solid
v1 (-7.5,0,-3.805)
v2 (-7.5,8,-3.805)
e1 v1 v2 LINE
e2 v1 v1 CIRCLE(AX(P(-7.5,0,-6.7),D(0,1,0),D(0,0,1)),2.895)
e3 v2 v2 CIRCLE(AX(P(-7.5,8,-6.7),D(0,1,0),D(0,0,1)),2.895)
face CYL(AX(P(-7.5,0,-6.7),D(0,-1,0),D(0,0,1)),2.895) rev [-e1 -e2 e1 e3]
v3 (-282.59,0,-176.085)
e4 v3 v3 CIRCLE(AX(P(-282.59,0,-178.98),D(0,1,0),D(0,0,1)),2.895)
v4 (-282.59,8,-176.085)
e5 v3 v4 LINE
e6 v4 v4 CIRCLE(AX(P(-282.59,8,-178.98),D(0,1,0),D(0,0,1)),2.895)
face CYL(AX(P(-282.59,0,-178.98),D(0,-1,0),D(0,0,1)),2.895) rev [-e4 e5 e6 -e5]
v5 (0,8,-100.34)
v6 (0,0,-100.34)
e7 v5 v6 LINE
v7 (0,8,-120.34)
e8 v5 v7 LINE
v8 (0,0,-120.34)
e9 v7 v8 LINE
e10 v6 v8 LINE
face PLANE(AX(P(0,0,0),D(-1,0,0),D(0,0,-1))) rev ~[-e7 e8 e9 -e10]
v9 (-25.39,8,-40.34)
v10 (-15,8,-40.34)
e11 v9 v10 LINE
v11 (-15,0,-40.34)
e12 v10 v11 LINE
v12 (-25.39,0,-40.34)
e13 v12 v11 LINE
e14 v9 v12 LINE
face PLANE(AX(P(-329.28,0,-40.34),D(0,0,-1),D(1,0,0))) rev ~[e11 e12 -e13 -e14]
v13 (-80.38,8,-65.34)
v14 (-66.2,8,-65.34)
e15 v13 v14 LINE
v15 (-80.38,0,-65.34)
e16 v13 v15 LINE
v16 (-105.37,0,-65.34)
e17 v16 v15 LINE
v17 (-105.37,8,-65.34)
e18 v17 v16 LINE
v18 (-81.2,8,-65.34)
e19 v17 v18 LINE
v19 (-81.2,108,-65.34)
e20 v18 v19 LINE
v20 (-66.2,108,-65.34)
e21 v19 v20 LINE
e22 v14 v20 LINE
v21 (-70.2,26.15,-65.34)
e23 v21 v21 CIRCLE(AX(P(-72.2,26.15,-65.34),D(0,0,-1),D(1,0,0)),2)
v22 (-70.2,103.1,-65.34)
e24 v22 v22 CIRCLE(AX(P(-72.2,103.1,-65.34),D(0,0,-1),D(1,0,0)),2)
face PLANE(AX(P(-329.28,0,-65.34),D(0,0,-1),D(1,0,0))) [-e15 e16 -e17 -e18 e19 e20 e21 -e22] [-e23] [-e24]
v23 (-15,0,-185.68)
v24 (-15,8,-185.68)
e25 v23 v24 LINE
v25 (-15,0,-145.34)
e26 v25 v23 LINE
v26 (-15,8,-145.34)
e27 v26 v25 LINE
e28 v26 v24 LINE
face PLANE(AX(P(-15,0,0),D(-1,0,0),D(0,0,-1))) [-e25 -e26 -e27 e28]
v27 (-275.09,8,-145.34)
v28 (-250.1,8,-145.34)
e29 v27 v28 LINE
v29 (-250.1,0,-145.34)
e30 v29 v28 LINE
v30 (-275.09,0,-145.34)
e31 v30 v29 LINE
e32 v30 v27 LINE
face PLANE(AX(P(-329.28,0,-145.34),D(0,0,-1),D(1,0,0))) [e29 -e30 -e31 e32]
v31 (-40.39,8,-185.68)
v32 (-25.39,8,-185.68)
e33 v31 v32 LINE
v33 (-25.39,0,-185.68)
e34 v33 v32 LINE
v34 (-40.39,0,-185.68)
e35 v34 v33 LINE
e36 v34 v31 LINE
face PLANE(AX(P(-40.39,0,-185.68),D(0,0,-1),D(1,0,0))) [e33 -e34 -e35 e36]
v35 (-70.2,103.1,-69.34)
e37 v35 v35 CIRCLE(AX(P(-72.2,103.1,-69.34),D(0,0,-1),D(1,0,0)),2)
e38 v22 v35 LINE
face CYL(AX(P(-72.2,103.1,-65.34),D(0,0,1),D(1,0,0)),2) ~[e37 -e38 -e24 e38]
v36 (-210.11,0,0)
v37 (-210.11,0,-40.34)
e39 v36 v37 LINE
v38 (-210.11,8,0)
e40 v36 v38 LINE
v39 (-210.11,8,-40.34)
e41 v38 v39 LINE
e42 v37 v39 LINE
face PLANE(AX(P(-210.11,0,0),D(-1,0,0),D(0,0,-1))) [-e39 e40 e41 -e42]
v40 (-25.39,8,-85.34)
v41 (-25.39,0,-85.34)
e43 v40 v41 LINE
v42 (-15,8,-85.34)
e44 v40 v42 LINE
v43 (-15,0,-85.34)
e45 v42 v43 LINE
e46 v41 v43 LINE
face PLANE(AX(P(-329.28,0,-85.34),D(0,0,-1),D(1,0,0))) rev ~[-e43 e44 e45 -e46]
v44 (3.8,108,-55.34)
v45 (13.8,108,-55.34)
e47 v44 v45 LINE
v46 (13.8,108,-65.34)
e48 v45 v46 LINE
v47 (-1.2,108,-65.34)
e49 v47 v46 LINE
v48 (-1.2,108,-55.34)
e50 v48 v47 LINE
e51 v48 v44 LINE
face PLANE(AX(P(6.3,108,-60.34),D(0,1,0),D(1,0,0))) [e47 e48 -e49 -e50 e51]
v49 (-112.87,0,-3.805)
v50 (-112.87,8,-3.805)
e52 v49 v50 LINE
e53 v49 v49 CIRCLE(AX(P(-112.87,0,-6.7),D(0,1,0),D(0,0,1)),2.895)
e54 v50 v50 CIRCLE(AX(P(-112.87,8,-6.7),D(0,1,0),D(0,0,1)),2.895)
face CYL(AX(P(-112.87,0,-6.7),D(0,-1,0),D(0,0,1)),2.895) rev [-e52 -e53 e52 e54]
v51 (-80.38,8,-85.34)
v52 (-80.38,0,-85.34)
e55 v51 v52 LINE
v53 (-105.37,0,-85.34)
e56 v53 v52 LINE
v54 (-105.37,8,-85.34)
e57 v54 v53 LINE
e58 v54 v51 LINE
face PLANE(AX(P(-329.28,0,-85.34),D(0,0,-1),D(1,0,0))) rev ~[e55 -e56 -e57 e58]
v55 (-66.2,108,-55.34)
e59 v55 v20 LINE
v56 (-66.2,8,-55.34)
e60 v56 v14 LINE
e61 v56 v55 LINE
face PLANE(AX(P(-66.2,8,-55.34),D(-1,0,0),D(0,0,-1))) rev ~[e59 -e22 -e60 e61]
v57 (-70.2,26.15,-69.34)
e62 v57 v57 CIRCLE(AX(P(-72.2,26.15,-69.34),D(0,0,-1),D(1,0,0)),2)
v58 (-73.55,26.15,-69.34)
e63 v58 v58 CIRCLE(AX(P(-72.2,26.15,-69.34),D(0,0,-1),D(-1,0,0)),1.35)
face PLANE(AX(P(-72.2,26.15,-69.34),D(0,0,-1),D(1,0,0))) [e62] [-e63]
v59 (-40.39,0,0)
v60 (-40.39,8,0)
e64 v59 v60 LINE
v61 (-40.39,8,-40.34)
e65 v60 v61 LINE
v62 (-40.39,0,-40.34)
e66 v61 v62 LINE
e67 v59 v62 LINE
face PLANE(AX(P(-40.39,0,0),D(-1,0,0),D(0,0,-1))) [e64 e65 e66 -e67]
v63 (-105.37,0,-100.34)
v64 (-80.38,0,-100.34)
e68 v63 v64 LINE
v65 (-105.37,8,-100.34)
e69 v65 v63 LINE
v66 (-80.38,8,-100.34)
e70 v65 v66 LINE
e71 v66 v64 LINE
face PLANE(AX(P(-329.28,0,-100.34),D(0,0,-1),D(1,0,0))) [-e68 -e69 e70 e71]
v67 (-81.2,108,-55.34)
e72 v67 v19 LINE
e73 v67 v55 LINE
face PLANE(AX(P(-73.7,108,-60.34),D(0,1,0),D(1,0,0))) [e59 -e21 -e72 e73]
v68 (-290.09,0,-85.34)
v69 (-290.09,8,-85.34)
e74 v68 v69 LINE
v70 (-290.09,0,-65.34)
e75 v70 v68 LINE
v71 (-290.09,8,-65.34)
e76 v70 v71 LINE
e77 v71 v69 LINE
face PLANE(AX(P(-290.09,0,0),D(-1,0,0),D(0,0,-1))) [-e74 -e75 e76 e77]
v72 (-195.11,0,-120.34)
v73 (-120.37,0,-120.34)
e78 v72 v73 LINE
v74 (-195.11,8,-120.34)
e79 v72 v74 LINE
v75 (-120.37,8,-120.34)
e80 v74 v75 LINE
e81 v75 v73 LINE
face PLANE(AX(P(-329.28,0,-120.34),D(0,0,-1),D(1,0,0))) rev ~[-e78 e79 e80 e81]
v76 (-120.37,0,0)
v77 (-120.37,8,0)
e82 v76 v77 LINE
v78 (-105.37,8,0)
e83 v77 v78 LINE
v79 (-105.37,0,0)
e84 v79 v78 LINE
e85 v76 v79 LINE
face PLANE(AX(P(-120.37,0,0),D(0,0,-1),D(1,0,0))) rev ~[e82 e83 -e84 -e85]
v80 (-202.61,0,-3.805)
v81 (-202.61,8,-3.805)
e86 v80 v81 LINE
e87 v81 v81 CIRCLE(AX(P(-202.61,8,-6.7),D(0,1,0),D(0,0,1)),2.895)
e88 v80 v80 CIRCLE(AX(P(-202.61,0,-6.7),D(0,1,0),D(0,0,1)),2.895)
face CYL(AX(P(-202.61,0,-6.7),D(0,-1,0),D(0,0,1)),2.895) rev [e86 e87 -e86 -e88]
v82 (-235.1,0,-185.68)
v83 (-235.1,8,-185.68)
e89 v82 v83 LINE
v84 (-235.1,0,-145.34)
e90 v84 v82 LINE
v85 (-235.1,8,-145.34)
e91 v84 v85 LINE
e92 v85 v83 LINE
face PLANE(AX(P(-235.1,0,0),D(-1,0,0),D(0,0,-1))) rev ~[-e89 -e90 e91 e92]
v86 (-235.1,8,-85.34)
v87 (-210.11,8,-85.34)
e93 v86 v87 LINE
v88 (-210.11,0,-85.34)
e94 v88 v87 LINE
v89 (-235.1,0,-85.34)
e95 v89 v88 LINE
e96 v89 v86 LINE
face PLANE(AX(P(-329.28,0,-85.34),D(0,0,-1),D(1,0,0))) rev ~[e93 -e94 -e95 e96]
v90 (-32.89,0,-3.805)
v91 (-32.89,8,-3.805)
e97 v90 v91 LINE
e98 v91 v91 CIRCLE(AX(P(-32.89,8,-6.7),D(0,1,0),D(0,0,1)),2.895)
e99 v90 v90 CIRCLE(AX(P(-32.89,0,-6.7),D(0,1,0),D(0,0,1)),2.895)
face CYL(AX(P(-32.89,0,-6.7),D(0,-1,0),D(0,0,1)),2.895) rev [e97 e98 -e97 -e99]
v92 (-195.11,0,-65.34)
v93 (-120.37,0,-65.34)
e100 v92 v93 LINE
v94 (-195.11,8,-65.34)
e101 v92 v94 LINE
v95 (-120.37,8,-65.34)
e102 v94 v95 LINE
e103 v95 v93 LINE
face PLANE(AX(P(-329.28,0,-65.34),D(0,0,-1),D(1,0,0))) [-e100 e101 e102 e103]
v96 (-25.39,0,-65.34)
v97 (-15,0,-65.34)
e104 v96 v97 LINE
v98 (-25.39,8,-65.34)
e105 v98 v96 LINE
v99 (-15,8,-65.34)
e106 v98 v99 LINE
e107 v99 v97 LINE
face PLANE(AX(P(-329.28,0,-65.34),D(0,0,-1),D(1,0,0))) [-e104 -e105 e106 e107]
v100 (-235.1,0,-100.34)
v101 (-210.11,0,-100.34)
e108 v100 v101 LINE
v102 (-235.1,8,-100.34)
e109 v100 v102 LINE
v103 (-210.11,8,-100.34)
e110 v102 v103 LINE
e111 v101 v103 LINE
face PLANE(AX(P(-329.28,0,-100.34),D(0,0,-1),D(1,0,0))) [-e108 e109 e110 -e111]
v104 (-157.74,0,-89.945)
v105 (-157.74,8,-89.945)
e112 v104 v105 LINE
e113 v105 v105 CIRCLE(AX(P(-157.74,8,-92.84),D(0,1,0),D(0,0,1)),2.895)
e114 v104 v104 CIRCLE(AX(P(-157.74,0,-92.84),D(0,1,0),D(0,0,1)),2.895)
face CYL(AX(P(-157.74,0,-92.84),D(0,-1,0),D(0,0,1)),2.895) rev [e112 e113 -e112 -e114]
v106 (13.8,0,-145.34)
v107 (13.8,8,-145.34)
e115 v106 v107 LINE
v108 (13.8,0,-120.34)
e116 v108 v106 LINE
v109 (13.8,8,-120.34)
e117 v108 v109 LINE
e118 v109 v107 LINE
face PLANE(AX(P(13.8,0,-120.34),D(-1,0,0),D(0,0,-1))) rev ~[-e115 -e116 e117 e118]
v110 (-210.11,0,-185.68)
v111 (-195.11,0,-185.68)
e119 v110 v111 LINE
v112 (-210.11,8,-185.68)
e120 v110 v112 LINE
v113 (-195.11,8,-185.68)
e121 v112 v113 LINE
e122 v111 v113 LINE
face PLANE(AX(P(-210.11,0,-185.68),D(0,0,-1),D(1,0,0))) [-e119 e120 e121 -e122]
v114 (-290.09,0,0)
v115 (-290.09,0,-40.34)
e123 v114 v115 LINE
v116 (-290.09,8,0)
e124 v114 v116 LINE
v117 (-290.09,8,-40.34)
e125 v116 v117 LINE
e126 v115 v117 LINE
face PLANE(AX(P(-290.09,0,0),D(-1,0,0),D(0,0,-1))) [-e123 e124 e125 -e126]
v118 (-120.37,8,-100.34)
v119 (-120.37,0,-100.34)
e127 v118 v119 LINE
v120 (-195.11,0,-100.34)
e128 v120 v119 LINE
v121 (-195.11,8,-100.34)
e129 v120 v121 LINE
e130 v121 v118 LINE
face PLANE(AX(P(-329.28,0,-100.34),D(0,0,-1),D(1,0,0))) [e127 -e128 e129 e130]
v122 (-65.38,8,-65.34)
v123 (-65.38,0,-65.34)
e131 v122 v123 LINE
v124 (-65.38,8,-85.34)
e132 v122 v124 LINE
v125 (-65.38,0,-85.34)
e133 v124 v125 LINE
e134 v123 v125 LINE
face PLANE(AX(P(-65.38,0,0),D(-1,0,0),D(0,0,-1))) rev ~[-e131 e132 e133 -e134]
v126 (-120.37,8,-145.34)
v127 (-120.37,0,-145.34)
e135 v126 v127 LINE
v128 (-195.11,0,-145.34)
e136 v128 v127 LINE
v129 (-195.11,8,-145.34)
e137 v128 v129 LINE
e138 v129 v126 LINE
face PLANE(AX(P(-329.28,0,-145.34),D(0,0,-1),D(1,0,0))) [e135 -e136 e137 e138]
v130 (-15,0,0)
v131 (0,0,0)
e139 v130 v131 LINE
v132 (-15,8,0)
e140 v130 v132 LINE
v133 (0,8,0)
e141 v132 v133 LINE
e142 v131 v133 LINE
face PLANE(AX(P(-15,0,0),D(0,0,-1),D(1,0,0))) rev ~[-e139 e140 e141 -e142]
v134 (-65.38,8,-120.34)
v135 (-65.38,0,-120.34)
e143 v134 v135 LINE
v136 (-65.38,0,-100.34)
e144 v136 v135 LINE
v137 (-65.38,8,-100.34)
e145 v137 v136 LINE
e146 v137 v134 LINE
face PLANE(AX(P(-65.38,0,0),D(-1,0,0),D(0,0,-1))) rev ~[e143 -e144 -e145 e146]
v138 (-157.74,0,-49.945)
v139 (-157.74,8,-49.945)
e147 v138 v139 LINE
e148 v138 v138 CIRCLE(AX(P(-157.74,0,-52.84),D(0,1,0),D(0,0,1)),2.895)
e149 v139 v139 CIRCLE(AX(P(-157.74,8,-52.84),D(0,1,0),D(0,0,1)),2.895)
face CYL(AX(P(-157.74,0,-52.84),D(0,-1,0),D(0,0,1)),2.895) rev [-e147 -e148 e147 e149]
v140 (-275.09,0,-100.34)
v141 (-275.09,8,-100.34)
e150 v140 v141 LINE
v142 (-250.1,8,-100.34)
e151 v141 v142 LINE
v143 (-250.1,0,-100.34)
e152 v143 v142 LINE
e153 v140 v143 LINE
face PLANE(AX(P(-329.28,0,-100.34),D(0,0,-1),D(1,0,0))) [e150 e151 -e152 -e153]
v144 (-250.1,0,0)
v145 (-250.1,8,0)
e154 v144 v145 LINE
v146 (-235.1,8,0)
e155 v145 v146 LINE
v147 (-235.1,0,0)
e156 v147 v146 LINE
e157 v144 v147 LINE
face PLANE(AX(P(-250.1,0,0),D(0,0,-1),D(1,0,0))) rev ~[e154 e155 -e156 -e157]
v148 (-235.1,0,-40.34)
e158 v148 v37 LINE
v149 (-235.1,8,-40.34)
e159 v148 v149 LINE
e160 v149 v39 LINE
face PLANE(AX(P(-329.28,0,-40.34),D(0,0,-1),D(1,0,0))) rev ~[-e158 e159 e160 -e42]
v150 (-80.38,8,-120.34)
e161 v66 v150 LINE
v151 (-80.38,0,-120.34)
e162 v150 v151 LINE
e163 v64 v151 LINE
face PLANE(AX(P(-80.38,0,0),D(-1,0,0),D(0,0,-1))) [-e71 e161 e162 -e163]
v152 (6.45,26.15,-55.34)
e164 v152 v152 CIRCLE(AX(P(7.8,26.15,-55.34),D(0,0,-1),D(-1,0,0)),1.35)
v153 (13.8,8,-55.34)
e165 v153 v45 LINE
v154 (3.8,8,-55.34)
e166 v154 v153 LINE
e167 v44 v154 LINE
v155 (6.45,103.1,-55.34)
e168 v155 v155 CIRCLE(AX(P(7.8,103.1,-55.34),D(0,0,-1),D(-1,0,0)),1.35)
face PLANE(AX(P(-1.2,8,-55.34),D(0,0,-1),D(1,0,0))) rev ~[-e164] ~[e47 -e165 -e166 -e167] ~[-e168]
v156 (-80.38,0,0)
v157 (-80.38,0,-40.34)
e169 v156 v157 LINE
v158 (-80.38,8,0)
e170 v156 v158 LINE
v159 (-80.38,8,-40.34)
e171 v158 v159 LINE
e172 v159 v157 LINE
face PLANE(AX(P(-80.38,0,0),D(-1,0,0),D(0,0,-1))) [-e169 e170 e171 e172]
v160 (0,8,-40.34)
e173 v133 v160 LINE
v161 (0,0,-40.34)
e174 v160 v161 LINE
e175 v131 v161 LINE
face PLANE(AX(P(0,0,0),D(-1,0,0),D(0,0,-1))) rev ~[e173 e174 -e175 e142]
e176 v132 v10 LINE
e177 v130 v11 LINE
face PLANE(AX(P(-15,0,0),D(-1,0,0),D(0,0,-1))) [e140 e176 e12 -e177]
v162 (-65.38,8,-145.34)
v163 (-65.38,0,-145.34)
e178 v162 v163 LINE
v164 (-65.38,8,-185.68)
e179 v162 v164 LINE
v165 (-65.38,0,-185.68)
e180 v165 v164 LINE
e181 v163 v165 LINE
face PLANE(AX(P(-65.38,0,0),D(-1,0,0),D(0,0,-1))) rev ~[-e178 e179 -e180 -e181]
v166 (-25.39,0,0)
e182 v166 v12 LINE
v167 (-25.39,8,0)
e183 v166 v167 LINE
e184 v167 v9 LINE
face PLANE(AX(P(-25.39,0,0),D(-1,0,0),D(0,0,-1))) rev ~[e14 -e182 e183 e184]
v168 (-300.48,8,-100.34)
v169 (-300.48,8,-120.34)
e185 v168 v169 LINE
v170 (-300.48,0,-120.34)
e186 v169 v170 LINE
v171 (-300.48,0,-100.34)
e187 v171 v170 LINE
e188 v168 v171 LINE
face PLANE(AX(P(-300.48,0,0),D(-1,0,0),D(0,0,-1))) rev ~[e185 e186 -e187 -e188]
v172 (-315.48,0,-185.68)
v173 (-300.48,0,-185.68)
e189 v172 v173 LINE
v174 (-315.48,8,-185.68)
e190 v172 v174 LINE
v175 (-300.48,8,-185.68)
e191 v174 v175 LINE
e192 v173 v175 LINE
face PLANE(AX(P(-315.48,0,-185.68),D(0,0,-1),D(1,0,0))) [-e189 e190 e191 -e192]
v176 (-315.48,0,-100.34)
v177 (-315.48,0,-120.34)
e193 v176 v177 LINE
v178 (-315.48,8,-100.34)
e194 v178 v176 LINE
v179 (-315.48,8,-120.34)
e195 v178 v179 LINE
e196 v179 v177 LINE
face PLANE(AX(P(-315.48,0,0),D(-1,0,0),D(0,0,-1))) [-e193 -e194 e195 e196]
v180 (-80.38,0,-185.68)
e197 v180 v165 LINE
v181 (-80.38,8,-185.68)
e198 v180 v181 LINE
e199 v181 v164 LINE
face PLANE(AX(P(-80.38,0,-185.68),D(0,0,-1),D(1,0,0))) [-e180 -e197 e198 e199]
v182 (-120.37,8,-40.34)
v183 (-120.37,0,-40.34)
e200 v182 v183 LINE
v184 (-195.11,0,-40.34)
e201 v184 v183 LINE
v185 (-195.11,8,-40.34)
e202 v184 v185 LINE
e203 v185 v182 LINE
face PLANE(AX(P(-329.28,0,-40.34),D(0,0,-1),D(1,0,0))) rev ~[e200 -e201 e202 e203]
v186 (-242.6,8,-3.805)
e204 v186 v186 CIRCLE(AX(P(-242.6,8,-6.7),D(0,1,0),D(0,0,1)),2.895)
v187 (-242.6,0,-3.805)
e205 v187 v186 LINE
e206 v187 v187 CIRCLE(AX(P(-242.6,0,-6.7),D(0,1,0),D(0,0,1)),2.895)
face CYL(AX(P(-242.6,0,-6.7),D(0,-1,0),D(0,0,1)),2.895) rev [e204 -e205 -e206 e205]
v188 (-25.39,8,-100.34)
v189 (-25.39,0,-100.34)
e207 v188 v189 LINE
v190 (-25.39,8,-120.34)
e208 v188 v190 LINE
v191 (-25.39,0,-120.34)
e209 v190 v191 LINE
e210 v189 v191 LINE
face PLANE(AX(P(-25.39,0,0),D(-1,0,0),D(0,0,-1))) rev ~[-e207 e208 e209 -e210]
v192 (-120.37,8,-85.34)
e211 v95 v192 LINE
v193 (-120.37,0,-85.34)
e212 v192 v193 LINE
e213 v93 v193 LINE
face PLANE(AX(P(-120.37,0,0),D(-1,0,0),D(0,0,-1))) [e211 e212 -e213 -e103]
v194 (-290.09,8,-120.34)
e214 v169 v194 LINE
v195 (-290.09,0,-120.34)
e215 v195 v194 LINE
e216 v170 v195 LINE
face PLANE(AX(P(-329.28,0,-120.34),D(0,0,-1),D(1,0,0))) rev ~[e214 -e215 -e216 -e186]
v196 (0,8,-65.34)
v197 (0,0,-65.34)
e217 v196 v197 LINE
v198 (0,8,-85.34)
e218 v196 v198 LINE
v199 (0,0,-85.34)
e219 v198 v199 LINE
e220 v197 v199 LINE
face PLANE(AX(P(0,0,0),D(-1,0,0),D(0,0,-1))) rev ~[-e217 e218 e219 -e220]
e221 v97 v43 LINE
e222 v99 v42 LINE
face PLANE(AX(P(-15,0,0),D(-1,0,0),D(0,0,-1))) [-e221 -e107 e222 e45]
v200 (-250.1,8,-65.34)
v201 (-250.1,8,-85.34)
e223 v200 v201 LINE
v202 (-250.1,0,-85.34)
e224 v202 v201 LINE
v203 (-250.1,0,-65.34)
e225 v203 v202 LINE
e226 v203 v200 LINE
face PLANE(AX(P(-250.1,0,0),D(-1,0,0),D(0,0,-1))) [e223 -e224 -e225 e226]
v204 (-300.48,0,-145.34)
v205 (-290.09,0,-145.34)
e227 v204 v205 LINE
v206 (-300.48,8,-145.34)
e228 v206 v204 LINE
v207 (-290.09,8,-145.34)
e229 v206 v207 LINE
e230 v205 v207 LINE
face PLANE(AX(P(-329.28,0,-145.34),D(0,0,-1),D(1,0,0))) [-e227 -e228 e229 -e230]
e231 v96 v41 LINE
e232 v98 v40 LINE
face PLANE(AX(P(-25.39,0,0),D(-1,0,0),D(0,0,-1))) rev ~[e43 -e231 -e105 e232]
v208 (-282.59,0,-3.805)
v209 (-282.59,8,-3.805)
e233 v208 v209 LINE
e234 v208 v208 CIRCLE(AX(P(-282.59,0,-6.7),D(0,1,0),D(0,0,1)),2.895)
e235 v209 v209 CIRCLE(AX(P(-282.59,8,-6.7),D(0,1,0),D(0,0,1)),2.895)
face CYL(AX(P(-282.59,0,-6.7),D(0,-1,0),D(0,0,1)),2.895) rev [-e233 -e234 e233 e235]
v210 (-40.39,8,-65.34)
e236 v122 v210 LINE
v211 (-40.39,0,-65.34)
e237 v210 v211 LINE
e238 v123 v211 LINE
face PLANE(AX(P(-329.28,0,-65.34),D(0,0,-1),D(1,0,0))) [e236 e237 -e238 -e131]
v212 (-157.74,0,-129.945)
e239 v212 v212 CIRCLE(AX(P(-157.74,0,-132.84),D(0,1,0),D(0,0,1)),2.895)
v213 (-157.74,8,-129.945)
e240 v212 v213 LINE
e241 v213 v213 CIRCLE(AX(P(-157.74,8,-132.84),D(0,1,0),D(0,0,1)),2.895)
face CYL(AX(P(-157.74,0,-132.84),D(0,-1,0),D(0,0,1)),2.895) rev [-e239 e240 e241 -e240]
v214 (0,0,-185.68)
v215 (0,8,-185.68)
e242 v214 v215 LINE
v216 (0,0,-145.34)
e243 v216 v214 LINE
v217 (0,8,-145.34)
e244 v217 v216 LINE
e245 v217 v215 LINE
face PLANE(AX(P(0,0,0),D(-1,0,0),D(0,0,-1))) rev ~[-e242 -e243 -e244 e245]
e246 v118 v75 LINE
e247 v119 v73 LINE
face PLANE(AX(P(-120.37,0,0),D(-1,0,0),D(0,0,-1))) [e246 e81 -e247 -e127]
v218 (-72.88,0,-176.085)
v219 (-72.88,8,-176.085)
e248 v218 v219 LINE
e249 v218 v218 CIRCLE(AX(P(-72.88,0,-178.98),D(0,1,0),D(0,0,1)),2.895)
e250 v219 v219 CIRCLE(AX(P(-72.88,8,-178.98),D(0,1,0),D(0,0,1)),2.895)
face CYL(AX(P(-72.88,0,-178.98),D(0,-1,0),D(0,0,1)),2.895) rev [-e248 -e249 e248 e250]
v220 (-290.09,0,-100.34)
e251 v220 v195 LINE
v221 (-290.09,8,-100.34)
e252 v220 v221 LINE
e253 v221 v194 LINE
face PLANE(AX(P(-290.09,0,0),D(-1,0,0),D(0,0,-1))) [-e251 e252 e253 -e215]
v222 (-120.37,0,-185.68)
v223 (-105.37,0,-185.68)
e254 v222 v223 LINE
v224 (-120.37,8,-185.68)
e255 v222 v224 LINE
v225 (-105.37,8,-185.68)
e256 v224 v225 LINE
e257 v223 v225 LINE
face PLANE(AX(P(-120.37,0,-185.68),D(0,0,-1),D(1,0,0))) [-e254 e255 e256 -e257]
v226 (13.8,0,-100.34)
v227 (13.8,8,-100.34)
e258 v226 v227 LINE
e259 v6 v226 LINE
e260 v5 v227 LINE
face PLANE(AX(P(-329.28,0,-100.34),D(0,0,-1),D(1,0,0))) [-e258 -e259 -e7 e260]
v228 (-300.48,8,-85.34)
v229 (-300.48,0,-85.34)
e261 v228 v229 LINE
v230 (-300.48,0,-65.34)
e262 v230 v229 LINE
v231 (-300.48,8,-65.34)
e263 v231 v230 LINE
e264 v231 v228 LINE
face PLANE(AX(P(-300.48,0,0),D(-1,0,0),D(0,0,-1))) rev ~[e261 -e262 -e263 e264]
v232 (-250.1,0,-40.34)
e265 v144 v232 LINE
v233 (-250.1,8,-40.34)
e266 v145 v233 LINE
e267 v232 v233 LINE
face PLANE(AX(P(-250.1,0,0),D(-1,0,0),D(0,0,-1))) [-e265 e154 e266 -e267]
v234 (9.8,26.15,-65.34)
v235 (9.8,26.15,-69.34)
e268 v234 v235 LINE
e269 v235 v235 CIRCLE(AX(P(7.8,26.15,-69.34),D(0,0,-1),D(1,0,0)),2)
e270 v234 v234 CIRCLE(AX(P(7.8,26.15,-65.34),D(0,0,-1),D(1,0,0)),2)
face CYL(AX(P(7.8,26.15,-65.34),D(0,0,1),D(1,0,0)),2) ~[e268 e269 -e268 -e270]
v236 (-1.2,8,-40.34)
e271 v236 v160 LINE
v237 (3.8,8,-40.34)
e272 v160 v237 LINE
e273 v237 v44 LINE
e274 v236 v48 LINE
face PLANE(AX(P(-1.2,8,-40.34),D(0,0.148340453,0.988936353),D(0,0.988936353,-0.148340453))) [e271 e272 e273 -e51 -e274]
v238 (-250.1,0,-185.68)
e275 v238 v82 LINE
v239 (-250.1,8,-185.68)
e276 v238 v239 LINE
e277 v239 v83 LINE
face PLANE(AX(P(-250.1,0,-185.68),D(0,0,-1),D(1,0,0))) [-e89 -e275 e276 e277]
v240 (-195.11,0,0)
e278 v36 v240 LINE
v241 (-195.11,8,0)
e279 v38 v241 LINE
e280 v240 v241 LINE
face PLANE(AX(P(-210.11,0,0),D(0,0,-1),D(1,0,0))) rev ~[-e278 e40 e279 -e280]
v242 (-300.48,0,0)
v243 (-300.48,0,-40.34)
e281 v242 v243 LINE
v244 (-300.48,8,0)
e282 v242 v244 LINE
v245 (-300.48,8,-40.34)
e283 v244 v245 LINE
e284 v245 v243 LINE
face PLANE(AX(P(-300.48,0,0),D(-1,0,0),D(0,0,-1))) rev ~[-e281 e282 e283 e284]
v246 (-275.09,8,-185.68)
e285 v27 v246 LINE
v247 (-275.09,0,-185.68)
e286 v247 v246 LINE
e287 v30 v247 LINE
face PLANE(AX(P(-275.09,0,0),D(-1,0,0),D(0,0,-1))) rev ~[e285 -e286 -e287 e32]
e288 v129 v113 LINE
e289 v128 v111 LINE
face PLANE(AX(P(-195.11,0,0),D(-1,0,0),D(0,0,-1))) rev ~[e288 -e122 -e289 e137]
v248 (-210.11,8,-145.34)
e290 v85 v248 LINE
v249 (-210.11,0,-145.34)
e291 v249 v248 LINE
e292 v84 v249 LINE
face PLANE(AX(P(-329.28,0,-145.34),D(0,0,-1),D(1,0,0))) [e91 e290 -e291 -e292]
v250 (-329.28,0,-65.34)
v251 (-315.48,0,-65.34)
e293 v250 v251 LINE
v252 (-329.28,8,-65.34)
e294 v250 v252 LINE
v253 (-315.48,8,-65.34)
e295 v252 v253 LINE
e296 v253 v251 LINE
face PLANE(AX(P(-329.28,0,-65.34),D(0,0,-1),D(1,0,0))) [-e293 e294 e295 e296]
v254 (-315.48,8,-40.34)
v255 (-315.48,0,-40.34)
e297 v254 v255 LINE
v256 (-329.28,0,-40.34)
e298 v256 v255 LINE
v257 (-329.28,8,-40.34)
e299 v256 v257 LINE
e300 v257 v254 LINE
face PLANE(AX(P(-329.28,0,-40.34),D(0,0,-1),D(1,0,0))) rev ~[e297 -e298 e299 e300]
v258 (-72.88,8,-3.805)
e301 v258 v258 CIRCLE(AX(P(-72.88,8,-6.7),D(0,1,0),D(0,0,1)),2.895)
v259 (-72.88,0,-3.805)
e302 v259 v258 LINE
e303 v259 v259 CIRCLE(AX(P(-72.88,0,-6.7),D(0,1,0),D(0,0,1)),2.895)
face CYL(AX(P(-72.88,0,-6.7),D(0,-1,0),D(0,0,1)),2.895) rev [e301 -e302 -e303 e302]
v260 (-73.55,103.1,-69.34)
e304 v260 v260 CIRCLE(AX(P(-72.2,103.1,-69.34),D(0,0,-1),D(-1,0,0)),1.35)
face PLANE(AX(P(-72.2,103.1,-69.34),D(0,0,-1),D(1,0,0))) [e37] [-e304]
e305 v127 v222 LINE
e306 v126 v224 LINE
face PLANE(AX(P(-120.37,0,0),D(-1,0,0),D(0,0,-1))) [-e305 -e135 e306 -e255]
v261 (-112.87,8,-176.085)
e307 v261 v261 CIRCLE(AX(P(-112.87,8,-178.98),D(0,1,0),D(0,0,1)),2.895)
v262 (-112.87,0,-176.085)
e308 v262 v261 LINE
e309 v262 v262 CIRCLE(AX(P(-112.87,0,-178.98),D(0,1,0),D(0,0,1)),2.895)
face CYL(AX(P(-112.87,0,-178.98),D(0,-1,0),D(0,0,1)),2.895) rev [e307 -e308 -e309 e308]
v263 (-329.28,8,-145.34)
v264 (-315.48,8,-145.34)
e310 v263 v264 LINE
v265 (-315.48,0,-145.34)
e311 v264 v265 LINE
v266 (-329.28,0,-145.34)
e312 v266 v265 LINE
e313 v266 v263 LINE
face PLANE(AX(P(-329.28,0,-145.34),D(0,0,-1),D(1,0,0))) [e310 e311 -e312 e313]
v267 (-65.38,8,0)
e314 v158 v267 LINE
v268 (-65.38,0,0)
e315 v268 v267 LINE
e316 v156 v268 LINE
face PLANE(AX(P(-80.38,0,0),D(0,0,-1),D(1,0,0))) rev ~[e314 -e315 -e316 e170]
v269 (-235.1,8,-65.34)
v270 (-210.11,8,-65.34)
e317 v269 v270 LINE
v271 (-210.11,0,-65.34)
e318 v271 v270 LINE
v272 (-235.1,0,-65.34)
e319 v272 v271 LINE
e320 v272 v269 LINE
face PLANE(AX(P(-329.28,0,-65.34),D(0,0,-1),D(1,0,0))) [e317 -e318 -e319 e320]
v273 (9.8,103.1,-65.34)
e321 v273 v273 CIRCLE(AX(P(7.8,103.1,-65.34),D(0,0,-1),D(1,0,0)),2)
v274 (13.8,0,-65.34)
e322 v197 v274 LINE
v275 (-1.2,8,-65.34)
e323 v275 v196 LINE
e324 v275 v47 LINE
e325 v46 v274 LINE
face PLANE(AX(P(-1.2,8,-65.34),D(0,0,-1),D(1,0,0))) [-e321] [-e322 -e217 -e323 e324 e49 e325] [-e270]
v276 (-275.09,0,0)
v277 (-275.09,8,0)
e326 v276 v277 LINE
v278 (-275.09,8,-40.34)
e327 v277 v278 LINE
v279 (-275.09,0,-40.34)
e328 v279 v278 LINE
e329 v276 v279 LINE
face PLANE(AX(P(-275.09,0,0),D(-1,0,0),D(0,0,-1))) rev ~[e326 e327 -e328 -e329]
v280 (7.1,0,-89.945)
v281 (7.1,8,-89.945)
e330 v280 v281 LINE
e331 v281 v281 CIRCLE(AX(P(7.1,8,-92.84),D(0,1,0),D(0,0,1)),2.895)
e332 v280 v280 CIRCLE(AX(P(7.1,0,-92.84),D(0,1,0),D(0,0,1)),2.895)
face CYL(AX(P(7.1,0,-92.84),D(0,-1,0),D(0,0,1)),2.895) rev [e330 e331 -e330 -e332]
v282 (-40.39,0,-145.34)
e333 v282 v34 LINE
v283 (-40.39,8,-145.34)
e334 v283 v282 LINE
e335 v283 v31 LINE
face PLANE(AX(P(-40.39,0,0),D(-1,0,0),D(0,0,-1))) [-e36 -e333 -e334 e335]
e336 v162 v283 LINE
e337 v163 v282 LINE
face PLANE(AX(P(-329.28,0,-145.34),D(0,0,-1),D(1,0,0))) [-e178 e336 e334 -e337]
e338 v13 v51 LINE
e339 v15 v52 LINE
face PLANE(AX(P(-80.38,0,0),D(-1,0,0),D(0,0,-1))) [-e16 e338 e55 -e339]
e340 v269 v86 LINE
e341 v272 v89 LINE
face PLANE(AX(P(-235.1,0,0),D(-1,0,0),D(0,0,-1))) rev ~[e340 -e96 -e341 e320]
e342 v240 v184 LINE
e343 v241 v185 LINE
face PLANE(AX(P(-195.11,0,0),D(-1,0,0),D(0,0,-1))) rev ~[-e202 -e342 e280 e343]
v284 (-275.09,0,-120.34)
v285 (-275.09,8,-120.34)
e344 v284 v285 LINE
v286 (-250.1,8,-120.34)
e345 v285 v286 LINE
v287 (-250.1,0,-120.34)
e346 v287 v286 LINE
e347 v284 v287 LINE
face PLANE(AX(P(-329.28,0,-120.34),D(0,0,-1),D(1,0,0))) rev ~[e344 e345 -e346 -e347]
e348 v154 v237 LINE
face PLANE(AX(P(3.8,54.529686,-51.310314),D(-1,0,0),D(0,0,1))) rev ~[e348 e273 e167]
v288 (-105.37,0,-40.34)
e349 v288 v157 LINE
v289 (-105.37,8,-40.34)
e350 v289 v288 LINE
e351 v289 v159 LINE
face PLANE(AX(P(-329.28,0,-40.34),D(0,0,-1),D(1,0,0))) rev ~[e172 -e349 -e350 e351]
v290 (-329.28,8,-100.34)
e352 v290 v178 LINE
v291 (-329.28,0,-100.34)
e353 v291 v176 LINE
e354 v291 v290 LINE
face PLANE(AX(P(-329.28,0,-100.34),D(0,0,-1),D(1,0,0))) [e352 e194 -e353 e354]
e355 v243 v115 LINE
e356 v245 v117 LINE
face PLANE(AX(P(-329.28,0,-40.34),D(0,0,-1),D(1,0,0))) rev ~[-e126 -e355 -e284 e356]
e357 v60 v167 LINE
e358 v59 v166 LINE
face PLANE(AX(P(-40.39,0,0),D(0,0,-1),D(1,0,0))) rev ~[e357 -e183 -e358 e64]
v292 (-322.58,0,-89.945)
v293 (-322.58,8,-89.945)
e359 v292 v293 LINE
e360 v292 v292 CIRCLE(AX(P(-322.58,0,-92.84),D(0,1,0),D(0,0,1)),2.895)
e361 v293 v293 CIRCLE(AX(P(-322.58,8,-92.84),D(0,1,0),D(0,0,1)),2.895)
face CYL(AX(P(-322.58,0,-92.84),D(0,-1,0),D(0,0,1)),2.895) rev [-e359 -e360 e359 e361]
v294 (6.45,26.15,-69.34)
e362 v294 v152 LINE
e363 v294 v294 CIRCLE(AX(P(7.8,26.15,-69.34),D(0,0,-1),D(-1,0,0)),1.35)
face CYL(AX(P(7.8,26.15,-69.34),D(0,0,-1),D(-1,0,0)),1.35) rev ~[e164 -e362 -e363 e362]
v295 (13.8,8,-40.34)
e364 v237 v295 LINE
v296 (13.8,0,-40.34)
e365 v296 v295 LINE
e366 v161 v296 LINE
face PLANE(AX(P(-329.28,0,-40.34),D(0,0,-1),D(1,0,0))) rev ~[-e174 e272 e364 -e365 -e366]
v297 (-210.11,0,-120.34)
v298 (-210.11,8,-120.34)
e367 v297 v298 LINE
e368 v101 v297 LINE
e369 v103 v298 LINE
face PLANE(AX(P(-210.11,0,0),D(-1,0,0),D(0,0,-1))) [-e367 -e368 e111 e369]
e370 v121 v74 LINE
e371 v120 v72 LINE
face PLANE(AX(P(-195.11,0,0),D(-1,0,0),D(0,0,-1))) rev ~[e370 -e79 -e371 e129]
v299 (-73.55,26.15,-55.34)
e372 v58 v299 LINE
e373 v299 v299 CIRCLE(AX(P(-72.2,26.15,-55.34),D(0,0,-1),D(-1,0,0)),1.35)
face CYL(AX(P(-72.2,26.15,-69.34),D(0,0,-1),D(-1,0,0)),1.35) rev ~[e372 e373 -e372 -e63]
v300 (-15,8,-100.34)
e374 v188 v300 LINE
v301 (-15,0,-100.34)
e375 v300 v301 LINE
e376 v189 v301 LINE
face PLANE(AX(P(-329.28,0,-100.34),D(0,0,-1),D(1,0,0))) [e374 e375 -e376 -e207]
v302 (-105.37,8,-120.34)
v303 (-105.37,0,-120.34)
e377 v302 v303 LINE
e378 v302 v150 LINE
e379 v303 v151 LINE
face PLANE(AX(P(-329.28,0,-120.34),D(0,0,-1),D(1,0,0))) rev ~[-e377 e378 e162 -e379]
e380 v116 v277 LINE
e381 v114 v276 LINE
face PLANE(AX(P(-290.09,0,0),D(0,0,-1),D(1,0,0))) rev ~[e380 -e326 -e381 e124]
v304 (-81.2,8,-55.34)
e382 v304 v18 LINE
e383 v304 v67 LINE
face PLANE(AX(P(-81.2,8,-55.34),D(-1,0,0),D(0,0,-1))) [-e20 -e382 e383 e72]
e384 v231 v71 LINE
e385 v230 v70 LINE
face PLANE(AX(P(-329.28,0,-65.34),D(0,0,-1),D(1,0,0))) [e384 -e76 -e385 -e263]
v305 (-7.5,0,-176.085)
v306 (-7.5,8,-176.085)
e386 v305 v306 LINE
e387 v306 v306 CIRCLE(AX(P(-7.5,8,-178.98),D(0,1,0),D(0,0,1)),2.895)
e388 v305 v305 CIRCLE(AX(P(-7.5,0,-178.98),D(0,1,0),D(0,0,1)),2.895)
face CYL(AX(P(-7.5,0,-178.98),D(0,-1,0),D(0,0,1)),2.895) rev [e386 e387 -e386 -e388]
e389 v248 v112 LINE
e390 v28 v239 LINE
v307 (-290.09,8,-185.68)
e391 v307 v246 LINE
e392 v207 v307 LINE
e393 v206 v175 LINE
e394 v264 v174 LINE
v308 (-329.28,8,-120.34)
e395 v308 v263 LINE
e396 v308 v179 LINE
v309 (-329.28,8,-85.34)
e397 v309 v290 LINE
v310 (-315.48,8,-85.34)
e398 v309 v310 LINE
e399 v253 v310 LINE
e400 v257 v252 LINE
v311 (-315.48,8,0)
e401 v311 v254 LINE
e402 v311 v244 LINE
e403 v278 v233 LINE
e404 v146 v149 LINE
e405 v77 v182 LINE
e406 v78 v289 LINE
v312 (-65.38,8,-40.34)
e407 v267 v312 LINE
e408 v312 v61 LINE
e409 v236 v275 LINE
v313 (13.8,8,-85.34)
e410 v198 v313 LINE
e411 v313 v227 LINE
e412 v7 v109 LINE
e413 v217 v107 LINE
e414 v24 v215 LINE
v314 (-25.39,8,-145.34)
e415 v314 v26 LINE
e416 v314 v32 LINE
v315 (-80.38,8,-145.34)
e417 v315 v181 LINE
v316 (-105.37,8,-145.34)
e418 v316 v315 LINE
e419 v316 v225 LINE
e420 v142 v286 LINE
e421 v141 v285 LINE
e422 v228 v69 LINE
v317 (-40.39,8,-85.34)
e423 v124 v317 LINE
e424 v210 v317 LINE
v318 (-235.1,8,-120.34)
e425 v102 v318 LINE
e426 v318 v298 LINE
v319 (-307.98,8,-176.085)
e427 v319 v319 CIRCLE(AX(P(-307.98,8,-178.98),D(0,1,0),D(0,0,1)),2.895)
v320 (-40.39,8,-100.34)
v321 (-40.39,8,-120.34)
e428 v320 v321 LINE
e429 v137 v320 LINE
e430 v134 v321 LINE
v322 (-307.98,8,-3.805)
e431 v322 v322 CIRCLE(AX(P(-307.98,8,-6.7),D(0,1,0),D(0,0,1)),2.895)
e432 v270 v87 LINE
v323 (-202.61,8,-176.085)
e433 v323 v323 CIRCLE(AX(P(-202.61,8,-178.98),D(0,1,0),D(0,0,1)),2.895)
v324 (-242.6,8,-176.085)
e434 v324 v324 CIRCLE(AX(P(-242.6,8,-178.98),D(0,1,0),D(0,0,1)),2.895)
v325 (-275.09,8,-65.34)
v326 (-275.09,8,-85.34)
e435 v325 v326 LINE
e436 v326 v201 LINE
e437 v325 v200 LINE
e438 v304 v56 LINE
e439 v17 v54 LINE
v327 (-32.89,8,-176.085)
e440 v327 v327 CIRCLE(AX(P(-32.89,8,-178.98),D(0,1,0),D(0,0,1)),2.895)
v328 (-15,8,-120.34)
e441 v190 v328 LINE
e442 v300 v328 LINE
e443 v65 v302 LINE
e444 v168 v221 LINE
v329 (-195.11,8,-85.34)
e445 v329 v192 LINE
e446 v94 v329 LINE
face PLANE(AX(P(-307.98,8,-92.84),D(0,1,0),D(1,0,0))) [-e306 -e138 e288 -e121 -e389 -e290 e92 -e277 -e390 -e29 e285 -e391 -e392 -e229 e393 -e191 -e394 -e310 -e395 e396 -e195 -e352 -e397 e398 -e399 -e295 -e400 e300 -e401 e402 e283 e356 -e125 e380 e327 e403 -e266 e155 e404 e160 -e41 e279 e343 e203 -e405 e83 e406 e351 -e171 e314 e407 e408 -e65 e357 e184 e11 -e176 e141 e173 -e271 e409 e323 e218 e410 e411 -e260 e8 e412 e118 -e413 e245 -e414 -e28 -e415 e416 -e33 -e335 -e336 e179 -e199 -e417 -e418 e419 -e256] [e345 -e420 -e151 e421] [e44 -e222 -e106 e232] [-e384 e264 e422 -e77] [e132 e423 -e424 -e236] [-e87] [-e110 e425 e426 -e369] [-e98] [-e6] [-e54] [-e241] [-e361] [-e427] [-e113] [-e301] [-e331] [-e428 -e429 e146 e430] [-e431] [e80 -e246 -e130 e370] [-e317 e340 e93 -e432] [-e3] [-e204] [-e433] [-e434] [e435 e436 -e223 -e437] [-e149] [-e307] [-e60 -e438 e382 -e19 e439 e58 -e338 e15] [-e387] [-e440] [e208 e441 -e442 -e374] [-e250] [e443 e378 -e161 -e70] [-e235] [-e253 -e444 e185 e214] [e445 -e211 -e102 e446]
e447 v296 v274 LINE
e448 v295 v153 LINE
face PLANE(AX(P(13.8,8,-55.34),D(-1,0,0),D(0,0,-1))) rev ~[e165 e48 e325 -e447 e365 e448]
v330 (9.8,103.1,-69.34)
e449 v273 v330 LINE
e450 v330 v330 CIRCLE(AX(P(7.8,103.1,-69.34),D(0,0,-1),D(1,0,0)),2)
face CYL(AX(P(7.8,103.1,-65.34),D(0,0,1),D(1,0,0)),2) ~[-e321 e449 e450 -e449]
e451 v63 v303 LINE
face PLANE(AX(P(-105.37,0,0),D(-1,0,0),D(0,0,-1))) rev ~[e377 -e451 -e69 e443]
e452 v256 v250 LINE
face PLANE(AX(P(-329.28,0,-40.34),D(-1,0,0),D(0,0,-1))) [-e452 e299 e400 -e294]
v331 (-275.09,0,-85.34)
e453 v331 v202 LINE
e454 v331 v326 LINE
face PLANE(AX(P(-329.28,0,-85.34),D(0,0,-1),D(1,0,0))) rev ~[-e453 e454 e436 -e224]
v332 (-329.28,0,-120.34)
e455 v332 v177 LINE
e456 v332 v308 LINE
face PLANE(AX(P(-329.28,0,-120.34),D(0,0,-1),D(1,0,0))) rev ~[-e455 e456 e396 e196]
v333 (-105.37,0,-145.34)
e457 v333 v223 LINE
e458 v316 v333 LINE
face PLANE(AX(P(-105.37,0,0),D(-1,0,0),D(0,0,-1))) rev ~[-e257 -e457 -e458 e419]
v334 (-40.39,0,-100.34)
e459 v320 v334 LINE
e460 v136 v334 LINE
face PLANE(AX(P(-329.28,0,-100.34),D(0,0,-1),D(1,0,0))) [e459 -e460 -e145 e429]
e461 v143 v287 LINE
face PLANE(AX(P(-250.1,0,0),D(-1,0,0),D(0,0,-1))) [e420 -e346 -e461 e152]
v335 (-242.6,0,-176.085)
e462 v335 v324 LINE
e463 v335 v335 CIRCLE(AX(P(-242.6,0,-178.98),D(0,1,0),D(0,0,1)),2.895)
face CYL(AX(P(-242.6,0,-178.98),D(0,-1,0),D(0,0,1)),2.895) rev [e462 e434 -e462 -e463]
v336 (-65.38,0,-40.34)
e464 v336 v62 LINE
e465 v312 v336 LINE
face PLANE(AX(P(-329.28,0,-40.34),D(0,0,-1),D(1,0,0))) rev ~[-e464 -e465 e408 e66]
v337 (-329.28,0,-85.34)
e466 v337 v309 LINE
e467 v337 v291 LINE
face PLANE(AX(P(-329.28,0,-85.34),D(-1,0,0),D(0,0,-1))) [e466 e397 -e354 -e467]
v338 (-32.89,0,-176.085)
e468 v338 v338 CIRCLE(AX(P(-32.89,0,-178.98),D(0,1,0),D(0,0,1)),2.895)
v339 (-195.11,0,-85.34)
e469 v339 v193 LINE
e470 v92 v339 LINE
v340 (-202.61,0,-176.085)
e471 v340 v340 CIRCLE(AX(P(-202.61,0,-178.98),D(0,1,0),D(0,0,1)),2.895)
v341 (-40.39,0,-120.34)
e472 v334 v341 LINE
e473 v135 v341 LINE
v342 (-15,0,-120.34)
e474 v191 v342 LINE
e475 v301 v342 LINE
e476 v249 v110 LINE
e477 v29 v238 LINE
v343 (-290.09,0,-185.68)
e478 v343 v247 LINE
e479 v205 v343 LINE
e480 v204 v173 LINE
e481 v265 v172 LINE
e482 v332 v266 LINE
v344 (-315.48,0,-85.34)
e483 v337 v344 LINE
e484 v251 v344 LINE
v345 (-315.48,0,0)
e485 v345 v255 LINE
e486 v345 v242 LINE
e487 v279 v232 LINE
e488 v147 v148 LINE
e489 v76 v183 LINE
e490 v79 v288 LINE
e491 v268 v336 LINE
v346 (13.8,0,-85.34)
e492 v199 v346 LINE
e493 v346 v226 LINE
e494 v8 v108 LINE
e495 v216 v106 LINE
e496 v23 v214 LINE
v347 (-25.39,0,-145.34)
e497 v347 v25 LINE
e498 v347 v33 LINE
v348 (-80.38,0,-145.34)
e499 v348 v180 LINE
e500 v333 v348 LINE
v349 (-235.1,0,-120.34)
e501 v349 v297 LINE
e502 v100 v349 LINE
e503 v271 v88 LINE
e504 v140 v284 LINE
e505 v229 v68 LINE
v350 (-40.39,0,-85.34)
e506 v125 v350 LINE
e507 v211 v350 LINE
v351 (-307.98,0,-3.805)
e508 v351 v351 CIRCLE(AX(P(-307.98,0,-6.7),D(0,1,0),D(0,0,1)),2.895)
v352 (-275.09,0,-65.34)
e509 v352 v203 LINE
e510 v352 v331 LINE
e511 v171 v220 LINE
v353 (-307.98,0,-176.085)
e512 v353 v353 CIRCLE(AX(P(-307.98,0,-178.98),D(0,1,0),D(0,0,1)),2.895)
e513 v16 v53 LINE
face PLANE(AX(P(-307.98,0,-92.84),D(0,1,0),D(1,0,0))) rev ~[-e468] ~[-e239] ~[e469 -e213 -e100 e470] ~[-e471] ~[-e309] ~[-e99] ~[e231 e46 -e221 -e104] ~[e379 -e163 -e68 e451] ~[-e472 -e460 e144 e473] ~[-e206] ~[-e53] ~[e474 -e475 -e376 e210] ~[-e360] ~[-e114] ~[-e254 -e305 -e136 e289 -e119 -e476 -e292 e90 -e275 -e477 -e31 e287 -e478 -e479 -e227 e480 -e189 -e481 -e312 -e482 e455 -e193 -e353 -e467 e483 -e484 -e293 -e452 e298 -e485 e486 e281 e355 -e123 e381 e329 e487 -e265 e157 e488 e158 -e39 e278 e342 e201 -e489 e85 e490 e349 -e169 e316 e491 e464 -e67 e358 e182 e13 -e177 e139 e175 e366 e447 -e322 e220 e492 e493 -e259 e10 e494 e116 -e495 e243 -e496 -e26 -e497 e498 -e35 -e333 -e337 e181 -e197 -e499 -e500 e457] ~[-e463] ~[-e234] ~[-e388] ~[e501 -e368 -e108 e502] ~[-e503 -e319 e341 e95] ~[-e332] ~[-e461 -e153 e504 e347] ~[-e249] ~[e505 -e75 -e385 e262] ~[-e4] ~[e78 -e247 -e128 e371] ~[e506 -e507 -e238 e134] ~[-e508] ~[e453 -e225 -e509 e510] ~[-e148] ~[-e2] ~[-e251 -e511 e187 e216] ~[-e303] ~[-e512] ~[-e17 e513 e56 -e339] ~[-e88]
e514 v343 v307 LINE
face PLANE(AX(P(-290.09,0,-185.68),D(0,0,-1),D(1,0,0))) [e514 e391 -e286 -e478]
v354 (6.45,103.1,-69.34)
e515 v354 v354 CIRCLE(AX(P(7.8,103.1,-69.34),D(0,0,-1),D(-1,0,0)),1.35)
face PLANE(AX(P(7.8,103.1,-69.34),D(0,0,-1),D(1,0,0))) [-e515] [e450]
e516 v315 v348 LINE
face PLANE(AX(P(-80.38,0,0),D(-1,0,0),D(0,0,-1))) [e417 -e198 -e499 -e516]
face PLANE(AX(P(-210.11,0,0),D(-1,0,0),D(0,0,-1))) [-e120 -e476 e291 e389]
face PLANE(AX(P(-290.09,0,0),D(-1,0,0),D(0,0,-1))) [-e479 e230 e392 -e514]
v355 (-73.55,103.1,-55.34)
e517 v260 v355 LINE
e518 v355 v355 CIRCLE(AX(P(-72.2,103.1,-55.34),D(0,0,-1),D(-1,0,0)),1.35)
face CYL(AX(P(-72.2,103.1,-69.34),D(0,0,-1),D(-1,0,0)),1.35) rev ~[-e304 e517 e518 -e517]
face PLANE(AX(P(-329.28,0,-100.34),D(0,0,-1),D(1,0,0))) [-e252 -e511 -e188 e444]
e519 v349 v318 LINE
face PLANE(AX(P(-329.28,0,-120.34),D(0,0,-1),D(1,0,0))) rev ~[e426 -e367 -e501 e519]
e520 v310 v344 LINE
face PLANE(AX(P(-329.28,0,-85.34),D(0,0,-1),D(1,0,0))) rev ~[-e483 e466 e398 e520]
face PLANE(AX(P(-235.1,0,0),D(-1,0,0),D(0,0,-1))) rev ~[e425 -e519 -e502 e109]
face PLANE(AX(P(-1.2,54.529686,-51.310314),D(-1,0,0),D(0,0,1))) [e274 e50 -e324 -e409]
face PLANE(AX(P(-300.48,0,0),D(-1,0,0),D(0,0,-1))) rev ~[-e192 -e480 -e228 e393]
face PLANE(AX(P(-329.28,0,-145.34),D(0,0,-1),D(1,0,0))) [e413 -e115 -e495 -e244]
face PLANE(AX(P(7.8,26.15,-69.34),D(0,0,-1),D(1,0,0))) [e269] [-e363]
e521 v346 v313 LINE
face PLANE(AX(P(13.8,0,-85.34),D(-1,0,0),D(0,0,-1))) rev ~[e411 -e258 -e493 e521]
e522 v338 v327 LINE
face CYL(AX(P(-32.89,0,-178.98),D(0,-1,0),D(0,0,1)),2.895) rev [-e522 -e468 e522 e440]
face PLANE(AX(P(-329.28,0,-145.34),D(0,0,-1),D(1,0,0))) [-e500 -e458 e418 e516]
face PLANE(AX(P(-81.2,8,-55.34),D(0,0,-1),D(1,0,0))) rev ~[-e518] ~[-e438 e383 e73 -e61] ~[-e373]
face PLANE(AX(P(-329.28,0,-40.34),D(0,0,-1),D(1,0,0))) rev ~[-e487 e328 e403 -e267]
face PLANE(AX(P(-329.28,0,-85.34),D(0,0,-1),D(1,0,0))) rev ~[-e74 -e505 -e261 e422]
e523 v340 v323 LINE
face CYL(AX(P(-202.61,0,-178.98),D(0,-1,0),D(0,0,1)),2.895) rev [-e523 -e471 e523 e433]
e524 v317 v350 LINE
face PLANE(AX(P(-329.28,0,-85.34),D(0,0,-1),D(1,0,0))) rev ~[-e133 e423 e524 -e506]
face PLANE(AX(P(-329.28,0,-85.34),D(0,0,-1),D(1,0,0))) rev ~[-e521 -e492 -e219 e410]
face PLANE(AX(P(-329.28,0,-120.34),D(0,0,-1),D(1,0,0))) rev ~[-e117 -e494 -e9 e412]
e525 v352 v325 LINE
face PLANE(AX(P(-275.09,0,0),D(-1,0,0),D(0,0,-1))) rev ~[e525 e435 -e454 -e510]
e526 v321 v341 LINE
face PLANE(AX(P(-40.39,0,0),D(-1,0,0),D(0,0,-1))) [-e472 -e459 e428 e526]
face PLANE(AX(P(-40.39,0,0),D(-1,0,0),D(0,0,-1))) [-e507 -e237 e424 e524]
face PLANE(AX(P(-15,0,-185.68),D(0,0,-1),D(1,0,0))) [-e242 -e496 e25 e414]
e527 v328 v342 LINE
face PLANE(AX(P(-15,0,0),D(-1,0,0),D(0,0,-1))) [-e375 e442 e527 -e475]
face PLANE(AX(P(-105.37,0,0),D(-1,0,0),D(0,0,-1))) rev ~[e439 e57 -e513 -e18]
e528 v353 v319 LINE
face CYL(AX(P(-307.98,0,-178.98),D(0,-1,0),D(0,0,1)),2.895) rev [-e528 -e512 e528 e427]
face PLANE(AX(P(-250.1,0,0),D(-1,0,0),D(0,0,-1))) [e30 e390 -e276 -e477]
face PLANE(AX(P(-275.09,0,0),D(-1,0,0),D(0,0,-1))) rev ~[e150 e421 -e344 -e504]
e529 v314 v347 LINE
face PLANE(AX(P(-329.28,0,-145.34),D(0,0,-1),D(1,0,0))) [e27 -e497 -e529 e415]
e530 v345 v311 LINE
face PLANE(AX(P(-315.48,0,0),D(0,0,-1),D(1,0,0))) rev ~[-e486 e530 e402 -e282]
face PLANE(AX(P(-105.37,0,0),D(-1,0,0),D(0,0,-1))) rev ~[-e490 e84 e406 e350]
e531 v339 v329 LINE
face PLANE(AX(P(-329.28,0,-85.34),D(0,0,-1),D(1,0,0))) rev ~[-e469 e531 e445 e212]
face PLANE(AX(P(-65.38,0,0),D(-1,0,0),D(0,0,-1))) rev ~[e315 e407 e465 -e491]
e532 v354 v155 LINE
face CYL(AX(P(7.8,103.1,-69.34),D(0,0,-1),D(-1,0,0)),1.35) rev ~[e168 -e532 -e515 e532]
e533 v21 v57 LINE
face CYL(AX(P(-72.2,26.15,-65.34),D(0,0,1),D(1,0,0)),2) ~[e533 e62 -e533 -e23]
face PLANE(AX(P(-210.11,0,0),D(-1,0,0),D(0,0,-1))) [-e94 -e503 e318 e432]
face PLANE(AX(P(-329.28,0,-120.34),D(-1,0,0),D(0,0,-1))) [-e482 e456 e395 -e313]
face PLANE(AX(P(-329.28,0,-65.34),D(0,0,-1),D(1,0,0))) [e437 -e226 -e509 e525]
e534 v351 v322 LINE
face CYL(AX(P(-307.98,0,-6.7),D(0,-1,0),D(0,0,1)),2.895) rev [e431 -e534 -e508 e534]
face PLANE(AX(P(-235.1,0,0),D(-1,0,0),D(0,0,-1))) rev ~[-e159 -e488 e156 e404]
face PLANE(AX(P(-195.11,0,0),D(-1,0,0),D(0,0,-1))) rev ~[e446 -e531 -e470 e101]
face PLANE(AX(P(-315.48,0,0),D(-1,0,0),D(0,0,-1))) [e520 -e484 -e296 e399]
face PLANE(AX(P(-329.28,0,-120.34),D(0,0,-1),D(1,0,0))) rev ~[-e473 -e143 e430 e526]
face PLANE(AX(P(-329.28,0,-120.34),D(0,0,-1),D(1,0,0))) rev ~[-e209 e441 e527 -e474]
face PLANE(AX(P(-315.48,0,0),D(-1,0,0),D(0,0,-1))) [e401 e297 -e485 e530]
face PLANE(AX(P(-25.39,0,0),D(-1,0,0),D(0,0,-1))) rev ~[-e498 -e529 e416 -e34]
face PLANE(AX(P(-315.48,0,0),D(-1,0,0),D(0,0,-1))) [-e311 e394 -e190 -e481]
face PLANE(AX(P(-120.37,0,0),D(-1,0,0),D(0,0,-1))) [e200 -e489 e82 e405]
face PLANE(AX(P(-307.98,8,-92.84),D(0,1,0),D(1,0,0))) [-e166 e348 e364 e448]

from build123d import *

# Parameters (mm, degrees)
SKETCH1_W           = 15
SKETCH1_H           = 185.68
SKETCH1_R           = 2.895
SKETCH1_W_2         = 343.08
SKETCH1_H_2         = 25
SKETCH1_H_3         = 15
BOSS_EXTRUDE1_DEPTH = 8
SKETCH2_W           = 15
SKETCH2_H           = 10
BOSS_EXTRUDE2_DEPTH = 100
SKETCH3_R           = 2
BOSS_EXTRUDE3_DEPTH = 4
CUT_EXTRUDE1_REACH  = 367.547
SKETCH5_R           = 1.35
BOSS_EXTRUDE4_DEPTH = 5


with BuildPart() as part:
    # Sketch1 → Boss-Extrude1 (new body)
    # profile 1 of 11: a face of its own
    with BuildSketch(Plane(origin=(0, 0, 0), x_dir=(1, 0, 0), z_dir=(0, 1, 0))):
        with Locations((-7.5, 92.84)):
            Rectangle(SKETCH1_W, SKETCH1_H)
        with Locations(Location((-7.5, 6.7, 0), (0, 0, 270))):
            Circle(SKETCH1_R, mode=Mode.SUBTRACT)
        with Locations(Location((-7.5, 178.98, 0), (0, 0, 270))):
            Circle(SKETCH1_R, mode=Mode.SUBTRACT)
    # profile 2 of 11: a face of its own
    with BuildSketch(Plane(origin=(0, 0, 0), x_dir=(1, 0, 0), z_dir=(0, 1, 0))):
        with Locations((-32.89, 92.84)):
            Rectangle(SKETCH1_W, SKETCH1_H)
        with Locations(Location((-32.89, 6.7, 0), (0, 0, 270))):
            Circle(SKETCH1_R, mode=Mode.SUBTRACT)
        with Locations(Location((-32.89, 178.98, 0), (0, 0, 270))):
            Circle(SKETCH1_R, mode=Mode.SUBTRACT)
    # profile 3 of 11: a face of its own
    with BuildSketch(Plane(origin=(0, 0, 0), x_dir=(1, 0, 0), z_dir=(0, 1, 0))):
        with Locations((-72.88, 92.84)):
            Rectangle(SKETCH1_W, SKETCH1_H)
        with Locations(Location((-72.88, 6.7, 0), (0, 0, 270))):
            Circle(SKETCH1_R, mode=Mode.SUBTRACT)
        with Locations(Location((-72.88, 178.98, 0), (0, 0, 270))):
            Circle(SKETCH1_R, mode=Mode.SUBTRACT)
    # profile 4 of 11: a face of its own
    with BuildSketch(Plane(origin=(0, 0, 0), x_dir=(1, 0, 0), z_dir=(0, 1, 0))):
        with Locations((-112.87, 92.84)):
            Rectangle(SKETCH1_W, SKETCH1_H)
        with Locations(Location((-112.87, 6.7, 0), (0, 0, 270))):
            Circle(SKETCH1_R, mode=Mode.SUBTRACT)
        with Locations(Location((-112.87, 178.98, 0), (0, 0, 270))):
            Circle(SKETCH1_R, mode=Mode.SUBTRACT)
    # profile 5 of 11: a face of its own
    with BuildSketch(Plane(origin=(0, 0, 0), x_dir=(1, 0, 0), z_dir=(0, 1, 0))):
        with Locations((-157.74, 52.84)):
            Rectangle(SKETCH1_W_2, SKETCH1_H_2)
        with Locations(Location((-157.74, 52.84, 0), (0, 0, 270))):
            Circle(SKETCH1_R, mode=Mode.SUBTRACT)
    # profile 6 of 11: a face of its own
    with BuildSketch(Plane(origin=(0, 0, 0), x_dir=(1, 0, 0), z_dir=(0, 1, 0))):
        with Locations((-157.74, 92.84)):
            Rectangle(SKETCH1_W_2, SKETCH1_H_3)
        with Locations(Location((7.1, 92.84, 0), (0, 0, 270))):
            Circle(SKETCH1_R, mode=Mode.SUBTRACT)
        with Locations(Location((-157.74, 92.84, 0), (0, 0, 270))):
            Circle(SKETCH1_R, mode=Mode.SUBTRACT)
        with Locations(Location((-322.58, 92.84, 0), (0, 0, 270))):
            Circle(SKETCH1_R, mode=Mode.SUBTRACT)
    # profile 7 of 11: a face of its own
    with BuildSketch(Plane(origin=(0, 0, 0), x_dir=(1, 0, 0), z_dir=(0, 1, 0))):
        with Locations((-157.74, 132.84)):
            Rectangle(SKETCH1_W_2, SKETCH1_H_2)
        with Locations(Location((-157.74, 132.84, 0), (0, 0, 270))):
            Circle(SKETCH1_R, mode=Mode.SUBTRACT)
    # profile 8 of 11: a face of its own
    with BuildSketch(Plane(origin=(0, 0, 0), x_dir=(1, 0, 0), z_dir=(0, 1, 0))):
        with Locations((-202.61, 92.84)):
            Rectangle(SKETCH1_W, SKETCH1_H)
        with Locations(Location((-202.61, 178.98, 0), (0, 0, 270))):
            Circle(SKETCH1_R, mode=Mode.SUBTRACT)
        with Locations(Location((-202.61, 6.7, 0), (0, 0, 270))):
            Circle(SKETCH1_R, mode=Mode.SUBTRACT)
    # profile 9 of 11: a face of its own
    with BuildSketch(Plane(origin=(0, 0, 0), x_dir=(1, 0, 0), z_dir=(0, 1, 0))):
        with Locations((-242.6, 92.84)):
            Rectangle(SKETCH1_W, SKETCH1_H)
        with Locations(Location((-242.6, 178.98, 0), (0, 0, 270))):
            Circle(SKETCH1_R, mode=Mode.SUBTRACT)
        with Locations(Location((-242.6, 6.7, 0), (0, 0, 270))):
            Circle(SKETCH1_R, mode=Mode.SUBTRACT)
    # profile 10 of 11: a face of its own
    with BuildSketch(Plane(origin=(0, 0, 0), x_dir=(1, 0, 0), z_dir=(0, 1, 0))):
        with Locations((-282.59, 92.84)):
            Rectangle(SKETCH1_W, SKETCH1_H)
        with Locations(Location((-282.59, 178.98, 0), (0, 0, 270))):
            Circle(SKETCH1_R, mode=Mode.SUBTRACT)
        with Locations(Location((-282.59, 6.7, 0), (0, 0, 270))):
            Circle(SKETCH1_R, mode=Mode.SUBTRACT)
    # profile 11 of 11: a face of its own
    with BuildSketch(Plane(origin=(0, 0, 0), x_dir=(1, 0, 0), z_dir=(0, 1, 0))):
        with Locations((-307.98, 92.84)):
            Rectangle(SKETCH1_W, SKETCH1_H)
        with Locations(Location((-307.98, 178.98, 0), (0, 0, 270))):
            Circle(SKETCH1_R, mode=Mode.SUBTRACT)
        with Locations(Location((-307.98, 6.7, 0), (0, 0, 270))):
            Circle(SKETCH1_R, mode=Mode.SUBTRACT)
    extrude(amount=BOSS_EXTRUDE1_DEPTH)

    # Sketch2 → Boss-Extrude2 (add)
    with BuildSketch(Plane(origin=(0, 8, 0), x_dir=(1, 0, 0), z_dir=(0, 1, 0))):
        with Locations((6.3, 60.34)):
            Rectangle(SKETCH2_W, SKETCH2_H)
        with Locations((-73.7, 60.34)):
            Rectangle(SKETCH2_W, SKETCH2_H)
    extrude(amount=BOSS_EXTRUDE2_DEPTH)

    # Sketch3 → Boss-Extrude3 (add)
    with BuildSketch(Plane(origin=(0, 0, -65.34), x_dir=(-1, 0, 0), z_dir=(0, 0, -1))):
        with Locations(Location((-7.8, 103.1, 0), (0, 0, 180))):
            Circle(SKETCH3_R)
        with Locations(Location((-7.8, 26.15, 0), (0, 0, 180))):
            Circle(SKETCH3_R)
        with Locations(Location((72.2, 26.15, 0), (0, 0, 180))):
            Circle(SKETCH3_R)
        with Locations(Location((72.2, 103.1, 0), (0, 0, 180))):
            Circle(SKETCH3_R)
    extrude(amount=BOSS_EXTRUDE3_DEPTH)

    # Sketch5 → Cut-Extrude1 (cut, up to next)
    with BuildSketch(Plane(origin=(0, 0, -69.34), x_dir=(-1, 0, 0), z_dir=(0, 0, -1)), mode=Mode.PRIVATE) as cut_extrude1_sk1:
        with Locations((-7.8, 103.1)):
            Circle(SKETCH5_R)
    cut_extrude1_tool1 = extrude(cut_extrude1_sk1.sketch, amount=-CUT_EXTRUDE1_REACH, mode=Mode.PRIVATE) & part.part
    # Sketch5 → Cut-Extrude1 (cut, up to next)
    with BuildSketch(Plane(origin=(0, 0, -69.34), x_dir=(-1, 0, 0), z_dir=(0, 0, -1)), mode=Mode.PRIVATE) as cut_extrude1_sk2:
        with Locations((-7.8, 26.15)):
            Circle(SKETCH5_R)
    cut_extrude1_tool2 = extrude(cut_extrude1_sk2.sketch, amount=-CUT_EXTRUDE1_REACH, mode=Mode.PRIVATE) & part.part
    # Sketch5 → Cut-Extrude1 (cut, up to next)
    with BuildSketch(Plane(origin=(0, 0, -69.34), x_dir=(-1, 0, 0), z_dir=(0, 0, -1)), mode=Mode.PRIVATE) as cut_extrude1_sk3:
        with Locations((72.2, 26.15)):
            Circle(SKETCH5_R)
    cut_extrude1_tool3 = extrude(cut_extrude1_sk3.sketch, amount=-CUT_EXTRUDE1_REACH, mode=Mode.PRIVATE) & part.part
    # Sketch5 → Cut-Extrude1 (cut, up to next)
    with BuildSketch(Plane(origin=(0, 0, -69.34), x_dir=(-1, 0, 0), z_dir=(0, 0, -1)), mode=Mode.PRIVATE) as cut_extrude1_sk4:
        with Locations((72.2, 103.1)):
            Circle(SKETCH5_R)
    cut_extrude1_tool4 = extrude(cut_extrude1_sk4.sketch, amount=-CUT_EXTRUDE1_REACH, mode=Mode.PRIVATE) & part.part
    add(cut_extrude1_tool1.solids().sort_by_distance((7.8, 103.1, -69.34))[0], mode=Mode.SUBTRACT)
    add(cut_extrude1_tool2.solids().sort_by_distance((7.8, 26.15, -69.34))[0], mode=Mode.SUBTRACT)
    add(cut_extrude1_tool3.solids().sort_by_distance((-72.2, 26.15, -69.34))[0], mode=Mode.SUBTRACT)
    add(cut_extrude1_tool4.solids().sort_by_distance((-72.2, 103.1, -69.34))[0], mode=Mode.SUBTRACT)

    # Sketch7 → Boss-Extrude4 (add)
    with BuildSketch(Plane.ZY.offset(1.2)):
        Polygon((-40.34, 8), (-55.34, 108), (-55.34, 8), align=None)
    extrude(amount=-BOSS_EXTRUDE4_DEPTH)


solid = part.part
